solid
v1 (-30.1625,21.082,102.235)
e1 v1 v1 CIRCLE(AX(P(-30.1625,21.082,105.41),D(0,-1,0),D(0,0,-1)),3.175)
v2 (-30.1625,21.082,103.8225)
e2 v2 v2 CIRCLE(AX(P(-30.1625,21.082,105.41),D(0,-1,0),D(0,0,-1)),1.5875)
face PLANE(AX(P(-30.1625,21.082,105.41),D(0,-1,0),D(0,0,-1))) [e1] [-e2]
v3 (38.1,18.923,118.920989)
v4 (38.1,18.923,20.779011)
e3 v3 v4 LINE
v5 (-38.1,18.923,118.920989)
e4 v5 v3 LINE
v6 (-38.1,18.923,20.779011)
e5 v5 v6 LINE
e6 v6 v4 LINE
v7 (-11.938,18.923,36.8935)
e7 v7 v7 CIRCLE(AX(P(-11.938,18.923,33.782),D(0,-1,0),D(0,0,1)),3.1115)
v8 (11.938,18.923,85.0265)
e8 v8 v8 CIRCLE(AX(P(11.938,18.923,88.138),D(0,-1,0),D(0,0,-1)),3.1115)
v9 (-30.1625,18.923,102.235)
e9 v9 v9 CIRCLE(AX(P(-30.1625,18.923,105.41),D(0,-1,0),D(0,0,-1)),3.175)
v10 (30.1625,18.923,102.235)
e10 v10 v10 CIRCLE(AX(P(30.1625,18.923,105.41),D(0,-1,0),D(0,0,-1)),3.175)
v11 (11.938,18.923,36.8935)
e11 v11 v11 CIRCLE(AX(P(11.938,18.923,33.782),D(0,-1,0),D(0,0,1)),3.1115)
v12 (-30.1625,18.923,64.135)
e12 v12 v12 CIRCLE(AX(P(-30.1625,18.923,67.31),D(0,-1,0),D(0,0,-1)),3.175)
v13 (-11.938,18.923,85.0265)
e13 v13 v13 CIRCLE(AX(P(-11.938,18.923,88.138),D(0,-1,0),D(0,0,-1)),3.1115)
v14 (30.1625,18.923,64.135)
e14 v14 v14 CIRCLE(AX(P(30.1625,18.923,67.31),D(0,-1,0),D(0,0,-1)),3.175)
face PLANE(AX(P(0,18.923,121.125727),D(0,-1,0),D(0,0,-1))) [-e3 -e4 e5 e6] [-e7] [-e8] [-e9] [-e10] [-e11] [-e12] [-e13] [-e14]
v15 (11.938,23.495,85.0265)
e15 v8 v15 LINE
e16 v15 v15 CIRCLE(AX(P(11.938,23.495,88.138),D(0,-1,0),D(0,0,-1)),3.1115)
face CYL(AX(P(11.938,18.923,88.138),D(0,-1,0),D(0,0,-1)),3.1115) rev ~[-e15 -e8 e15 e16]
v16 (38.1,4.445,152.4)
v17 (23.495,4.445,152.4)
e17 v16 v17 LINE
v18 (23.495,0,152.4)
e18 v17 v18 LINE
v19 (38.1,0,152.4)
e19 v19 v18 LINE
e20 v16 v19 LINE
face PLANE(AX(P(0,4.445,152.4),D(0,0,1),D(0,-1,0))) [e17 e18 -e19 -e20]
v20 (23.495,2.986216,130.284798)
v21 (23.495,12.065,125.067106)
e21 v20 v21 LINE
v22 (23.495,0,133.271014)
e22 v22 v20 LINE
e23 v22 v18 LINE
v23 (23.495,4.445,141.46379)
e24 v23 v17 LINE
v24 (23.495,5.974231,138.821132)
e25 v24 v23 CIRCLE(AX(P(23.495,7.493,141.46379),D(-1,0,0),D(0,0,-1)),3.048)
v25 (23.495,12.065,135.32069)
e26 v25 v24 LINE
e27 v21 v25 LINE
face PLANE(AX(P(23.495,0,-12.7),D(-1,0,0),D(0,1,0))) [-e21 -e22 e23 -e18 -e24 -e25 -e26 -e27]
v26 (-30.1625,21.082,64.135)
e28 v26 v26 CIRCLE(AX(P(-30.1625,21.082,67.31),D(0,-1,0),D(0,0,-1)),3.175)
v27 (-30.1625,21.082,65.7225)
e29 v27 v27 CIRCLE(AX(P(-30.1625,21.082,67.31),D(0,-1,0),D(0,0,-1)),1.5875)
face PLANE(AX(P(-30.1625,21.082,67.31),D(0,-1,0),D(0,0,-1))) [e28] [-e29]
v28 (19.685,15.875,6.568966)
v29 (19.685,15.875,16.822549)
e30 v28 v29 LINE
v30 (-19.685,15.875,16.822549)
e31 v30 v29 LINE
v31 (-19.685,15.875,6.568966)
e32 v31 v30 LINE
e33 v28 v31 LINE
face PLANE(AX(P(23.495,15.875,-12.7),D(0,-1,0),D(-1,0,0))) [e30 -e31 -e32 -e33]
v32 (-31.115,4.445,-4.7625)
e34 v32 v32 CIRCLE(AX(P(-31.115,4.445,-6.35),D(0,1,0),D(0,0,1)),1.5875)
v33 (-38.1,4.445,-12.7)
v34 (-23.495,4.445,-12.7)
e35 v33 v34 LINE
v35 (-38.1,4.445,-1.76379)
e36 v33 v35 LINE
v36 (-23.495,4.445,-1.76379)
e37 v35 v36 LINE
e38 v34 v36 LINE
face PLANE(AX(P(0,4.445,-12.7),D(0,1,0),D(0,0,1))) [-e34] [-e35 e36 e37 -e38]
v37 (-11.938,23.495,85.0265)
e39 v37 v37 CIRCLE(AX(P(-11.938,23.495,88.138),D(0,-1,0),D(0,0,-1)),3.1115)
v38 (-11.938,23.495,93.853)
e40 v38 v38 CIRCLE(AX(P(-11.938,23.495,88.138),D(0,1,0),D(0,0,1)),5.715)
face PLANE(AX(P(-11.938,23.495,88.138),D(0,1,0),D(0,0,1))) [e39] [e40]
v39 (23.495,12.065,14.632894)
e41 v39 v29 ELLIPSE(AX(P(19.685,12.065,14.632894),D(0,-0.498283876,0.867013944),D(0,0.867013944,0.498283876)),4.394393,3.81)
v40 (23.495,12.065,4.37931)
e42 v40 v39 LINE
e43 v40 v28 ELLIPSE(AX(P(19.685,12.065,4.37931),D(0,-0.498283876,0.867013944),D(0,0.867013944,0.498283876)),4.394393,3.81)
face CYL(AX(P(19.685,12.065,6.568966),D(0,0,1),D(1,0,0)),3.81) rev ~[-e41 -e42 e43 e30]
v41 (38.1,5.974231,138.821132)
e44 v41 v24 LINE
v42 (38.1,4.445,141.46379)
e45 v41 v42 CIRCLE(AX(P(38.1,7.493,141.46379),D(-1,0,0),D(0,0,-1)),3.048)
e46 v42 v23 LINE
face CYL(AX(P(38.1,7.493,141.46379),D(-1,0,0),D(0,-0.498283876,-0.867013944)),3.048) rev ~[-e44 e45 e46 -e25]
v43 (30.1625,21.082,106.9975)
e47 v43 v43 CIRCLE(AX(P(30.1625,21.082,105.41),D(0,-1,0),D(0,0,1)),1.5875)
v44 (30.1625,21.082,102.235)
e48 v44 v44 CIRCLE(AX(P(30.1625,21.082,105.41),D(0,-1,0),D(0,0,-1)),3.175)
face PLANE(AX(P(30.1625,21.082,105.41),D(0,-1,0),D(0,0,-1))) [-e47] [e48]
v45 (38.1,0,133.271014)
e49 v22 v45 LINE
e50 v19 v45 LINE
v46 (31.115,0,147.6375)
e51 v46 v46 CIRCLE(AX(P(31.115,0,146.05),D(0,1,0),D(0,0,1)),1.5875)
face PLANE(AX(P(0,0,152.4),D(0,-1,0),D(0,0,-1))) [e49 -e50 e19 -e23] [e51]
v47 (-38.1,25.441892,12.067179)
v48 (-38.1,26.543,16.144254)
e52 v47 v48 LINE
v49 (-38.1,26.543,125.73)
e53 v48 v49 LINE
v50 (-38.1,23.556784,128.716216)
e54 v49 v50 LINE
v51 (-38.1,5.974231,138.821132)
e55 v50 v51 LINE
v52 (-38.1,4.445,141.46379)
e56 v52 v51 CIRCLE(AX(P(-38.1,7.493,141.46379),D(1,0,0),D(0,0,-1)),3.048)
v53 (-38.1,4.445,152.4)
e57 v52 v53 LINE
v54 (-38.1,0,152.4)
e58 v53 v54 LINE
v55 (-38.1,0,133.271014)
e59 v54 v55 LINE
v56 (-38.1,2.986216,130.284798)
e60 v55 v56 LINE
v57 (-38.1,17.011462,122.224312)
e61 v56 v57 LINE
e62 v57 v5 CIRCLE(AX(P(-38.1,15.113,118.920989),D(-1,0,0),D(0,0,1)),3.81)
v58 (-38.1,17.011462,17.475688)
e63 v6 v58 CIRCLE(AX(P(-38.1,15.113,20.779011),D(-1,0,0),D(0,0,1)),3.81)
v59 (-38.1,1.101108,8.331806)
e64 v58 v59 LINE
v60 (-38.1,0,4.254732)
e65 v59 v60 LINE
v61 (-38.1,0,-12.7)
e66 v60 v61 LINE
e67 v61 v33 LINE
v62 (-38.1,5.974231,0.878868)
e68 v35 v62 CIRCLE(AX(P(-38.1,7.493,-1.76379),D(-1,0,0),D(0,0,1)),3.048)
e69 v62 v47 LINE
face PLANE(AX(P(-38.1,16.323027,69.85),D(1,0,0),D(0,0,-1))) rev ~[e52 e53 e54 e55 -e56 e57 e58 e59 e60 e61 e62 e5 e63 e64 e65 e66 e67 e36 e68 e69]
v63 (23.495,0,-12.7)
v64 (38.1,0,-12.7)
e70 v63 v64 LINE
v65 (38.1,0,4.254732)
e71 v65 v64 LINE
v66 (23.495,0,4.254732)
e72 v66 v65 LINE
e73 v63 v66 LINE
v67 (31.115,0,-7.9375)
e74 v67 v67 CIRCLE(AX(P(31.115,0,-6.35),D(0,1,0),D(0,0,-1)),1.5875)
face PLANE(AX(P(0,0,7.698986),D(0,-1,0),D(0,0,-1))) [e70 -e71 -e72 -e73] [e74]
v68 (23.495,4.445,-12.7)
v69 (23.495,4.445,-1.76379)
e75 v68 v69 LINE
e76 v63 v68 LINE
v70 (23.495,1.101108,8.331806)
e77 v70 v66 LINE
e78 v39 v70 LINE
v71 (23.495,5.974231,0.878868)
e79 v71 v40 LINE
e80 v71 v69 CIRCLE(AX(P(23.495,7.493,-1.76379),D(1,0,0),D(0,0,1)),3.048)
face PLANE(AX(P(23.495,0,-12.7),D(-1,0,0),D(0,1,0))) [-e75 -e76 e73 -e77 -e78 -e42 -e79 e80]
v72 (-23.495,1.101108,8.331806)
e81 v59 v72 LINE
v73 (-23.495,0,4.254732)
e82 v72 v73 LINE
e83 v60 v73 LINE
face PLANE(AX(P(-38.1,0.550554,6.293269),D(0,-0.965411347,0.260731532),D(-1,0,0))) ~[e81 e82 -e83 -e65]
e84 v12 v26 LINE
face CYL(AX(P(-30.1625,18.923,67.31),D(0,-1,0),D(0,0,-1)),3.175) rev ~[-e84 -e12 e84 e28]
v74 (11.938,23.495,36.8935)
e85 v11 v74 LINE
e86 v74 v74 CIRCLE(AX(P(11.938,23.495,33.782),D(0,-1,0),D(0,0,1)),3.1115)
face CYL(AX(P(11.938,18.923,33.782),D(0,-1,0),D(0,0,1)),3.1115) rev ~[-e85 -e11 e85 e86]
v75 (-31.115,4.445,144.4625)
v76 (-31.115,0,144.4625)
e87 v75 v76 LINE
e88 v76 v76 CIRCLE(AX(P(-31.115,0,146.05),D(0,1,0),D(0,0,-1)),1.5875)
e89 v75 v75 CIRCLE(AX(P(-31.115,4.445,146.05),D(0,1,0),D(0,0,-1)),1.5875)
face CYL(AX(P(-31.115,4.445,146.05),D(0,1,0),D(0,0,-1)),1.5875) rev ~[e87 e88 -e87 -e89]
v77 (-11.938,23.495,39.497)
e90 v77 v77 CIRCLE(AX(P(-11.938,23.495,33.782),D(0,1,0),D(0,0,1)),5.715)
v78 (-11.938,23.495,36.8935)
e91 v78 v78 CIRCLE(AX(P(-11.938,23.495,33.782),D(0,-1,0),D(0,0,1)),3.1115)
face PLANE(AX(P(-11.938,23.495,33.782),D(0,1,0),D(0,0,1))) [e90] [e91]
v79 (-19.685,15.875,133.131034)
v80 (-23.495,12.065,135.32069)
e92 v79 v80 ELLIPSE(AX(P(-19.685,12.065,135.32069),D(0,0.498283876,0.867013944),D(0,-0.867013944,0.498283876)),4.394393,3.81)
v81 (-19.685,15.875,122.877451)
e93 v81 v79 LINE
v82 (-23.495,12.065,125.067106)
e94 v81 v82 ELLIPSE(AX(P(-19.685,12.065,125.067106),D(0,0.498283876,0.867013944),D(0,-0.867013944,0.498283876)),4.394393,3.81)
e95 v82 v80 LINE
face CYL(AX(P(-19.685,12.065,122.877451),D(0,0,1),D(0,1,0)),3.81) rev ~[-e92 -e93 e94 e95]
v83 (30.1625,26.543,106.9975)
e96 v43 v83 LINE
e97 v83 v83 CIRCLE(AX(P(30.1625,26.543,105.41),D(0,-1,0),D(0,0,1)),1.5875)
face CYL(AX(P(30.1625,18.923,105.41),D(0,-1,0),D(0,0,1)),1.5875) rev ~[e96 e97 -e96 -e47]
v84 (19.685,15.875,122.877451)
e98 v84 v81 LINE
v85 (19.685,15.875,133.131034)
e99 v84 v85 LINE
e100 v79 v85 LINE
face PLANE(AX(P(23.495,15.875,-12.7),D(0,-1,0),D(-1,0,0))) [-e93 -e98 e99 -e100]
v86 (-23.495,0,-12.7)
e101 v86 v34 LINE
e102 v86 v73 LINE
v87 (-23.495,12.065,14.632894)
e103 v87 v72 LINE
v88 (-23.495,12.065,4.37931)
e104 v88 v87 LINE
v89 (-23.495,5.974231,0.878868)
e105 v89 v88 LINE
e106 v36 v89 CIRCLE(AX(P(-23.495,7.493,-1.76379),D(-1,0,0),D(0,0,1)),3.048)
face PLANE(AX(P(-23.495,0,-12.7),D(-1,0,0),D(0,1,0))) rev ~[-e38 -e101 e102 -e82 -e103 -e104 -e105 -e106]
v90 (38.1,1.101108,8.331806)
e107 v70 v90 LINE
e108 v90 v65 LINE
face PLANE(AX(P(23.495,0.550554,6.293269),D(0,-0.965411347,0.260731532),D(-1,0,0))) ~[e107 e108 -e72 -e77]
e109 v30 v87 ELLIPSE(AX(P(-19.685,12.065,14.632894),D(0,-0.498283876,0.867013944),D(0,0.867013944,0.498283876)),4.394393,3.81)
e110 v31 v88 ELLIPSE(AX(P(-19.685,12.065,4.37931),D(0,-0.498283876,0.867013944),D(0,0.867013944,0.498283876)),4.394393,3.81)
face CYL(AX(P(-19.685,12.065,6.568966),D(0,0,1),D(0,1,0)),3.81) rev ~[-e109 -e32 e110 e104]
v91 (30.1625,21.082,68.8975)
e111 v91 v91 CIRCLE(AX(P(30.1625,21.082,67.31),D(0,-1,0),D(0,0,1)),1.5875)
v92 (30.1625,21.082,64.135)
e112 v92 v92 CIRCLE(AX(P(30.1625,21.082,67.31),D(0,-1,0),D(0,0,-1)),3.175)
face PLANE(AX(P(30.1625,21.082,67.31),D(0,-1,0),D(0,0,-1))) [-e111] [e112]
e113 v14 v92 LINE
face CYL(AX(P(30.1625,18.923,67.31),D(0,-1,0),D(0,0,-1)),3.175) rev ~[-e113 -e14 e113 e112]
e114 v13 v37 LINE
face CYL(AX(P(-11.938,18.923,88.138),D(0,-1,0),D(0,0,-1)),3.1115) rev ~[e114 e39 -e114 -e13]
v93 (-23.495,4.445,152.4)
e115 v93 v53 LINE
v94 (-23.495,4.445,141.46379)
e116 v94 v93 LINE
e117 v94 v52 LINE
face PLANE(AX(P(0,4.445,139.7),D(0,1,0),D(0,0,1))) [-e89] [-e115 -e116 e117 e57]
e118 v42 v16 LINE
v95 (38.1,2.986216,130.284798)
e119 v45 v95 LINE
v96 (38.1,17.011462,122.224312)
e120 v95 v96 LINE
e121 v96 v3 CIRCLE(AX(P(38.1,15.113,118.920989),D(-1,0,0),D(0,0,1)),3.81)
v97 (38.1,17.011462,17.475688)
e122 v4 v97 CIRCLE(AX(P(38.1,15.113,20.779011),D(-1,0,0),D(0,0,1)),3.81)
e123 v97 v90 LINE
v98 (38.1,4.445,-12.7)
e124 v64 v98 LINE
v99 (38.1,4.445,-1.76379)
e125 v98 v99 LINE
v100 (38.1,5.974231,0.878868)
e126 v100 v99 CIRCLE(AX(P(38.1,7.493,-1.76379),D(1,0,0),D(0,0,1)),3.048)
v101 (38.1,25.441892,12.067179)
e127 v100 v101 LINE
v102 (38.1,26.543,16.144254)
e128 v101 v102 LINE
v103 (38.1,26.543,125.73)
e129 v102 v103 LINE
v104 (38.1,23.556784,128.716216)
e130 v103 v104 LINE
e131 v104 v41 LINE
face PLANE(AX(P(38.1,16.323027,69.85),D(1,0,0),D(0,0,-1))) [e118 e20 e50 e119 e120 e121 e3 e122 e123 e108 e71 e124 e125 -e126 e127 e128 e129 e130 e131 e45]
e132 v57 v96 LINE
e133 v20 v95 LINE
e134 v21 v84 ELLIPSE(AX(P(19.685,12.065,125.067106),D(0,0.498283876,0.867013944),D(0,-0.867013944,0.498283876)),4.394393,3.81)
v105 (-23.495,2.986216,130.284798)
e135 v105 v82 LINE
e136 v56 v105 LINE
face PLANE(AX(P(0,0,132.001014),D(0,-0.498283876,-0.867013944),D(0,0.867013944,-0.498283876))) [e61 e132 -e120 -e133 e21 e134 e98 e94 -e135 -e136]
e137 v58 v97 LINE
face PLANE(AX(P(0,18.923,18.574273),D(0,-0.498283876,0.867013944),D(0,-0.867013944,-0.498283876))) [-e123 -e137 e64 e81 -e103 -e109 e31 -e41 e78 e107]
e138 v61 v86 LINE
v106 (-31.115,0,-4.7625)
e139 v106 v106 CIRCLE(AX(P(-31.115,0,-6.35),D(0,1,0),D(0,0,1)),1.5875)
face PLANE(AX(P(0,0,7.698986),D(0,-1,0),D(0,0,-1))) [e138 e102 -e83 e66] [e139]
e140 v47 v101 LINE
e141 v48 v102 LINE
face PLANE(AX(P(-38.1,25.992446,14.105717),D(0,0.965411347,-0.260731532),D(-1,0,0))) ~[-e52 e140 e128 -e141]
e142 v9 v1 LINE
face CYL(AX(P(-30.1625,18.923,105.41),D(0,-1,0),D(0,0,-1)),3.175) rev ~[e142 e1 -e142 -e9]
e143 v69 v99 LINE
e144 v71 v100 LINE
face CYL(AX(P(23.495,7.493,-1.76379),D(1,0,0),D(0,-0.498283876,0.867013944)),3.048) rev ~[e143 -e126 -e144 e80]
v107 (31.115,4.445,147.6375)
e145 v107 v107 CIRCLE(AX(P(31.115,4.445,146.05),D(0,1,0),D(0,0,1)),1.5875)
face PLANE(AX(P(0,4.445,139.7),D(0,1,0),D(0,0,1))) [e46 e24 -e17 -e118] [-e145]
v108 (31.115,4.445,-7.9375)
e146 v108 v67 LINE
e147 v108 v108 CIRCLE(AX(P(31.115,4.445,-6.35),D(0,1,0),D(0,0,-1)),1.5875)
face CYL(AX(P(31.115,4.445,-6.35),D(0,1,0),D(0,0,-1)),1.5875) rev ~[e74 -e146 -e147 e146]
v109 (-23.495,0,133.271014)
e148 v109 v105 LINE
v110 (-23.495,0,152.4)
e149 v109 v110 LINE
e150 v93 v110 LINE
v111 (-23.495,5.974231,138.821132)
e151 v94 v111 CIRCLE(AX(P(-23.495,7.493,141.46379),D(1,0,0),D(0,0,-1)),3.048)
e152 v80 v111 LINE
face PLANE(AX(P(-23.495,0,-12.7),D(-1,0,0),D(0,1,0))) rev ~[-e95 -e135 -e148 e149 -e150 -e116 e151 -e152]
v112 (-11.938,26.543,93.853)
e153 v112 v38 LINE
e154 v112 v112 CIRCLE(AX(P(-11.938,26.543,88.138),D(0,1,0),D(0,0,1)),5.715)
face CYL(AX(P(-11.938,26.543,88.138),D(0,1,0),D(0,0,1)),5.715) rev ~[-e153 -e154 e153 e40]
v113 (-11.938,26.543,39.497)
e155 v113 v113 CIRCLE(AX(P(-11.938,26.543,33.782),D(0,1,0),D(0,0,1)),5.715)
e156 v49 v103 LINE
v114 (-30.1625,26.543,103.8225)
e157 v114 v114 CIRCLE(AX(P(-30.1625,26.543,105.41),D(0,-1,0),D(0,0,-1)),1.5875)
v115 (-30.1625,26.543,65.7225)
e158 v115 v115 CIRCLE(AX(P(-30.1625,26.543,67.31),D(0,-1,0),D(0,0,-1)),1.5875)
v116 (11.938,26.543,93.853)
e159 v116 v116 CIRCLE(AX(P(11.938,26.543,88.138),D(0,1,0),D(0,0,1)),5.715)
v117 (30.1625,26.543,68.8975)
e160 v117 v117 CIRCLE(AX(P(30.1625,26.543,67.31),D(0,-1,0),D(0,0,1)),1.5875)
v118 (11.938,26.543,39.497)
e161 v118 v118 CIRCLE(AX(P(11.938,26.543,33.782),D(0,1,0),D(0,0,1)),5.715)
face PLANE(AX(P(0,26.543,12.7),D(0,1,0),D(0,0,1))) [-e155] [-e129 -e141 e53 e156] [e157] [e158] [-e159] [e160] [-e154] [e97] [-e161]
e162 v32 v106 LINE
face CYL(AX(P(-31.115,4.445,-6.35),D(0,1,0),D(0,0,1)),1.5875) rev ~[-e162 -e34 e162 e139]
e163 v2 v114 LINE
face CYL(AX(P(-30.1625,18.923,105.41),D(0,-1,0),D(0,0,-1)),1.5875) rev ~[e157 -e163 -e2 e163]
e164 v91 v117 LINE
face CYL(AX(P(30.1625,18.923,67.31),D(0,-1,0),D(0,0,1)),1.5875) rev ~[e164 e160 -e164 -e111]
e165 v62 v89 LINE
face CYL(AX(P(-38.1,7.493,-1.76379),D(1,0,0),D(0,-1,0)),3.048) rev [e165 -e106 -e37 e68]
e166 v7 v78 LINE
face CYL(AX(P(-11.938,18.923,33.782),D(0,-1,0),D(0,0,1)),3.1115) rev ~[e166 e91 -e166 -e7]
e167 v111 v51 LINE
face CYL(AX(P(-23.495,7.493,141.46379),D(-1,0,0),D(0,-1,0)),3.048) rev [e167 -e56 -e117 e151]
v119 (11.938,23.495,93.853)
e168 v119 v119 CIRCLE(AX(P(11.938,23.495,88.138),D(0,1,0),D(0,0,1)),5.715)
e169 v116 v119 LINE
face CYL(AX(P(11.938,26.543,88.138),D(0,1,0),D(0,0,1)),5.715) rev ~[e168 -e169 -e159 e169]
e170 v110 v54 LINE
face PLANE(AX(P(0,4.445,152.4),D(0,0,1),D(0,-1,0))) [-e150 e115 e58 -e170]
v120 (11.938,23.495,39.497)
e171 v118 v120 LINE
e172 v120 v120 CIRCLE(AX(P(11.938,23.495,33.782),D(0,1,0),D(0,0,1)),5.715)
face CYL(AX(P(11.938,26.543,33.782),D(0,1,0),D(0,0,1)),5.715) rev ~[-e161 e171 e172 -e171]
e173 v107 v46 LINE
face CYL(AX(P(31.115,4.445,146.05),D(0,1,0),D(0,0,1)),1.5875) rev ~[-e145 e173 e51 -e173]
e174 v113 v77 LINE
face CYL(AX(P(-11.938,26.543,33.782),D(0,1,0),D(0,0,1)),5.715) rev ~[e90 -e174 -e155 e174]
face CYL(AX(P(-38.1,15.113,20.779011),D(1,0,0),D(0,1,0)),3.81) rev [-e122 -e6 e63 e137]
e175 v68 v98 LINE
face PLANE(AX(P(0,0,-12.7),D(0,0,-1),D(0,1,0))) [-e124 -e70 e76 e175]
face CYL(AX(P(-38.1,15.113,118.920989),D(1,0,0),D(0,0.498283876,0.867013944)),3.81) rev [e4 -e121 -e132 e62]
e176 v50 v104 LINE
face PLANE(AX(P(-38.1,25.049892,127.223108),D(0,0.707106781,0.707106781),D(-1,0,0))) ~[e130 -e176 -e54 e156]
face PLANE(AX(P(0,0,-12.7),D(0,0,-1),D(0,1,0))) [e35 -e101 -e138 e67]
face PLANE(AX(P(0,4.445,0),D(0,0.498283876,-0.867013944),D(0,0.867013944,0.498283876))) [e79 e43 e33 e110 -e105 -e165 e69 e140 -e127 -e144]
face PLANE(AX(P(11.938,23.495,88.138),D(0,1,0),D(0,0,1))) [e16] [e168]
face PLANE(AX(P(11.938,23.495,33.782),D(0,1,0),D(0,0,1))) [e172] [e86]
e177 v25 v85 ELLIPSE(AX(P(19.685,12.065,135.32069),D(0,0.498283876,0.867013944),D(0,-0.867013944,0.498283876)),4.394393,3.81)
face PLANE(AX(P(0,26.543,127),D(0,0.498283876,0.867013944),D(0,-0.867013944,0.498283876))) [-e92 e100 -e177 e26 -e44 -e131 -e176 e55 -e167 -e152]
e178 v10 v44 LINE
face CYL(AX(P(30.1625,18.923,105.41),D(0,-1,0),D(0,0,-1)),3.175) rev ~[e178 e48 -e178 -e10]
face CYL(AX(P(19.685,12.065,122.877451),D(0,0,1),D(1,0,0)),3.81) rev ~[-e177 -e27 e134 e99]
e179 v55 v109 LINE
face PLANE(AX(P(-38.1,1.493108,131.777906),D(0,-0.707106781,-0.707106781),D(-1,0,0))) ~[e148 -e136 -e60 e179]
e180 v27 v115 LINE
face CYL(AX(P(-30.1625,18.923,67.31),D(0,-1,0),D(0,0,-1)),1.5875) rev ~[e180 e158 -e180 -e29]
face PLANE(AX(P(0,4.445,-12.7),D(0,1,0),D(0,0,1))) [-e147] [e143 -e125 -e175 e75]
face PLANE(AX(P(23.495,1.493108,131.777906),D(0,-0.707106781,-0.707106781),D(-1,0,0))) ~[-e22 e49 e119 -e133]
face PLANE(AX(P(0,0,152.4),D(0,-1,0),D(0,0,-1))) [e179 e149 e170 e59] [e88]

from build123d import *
from OCP.BRepFilletAPI import BRepFilletAPI_MakeChamfer

# Parameters (mm, degrees)
BOSS_EXTRUDE1_DEPTH           = 38.1
SKETCH2_R                     = 3.1115
CASTER_MOUNT_HOLES_DEPTH      = 159.225945815
SKETCH6_R                     = 1.5875
FRAME_MOUNTHOLES_DEPTH        = 159.636980569
SKETCH7_W                     = 46.99
SKETCH7_H                     = 15.875
LEG_CUTOUTS_DEPTH             = 172.505541744
CHAMFER1_SIZE                 = 1.27
CHAMFER1_SIZE2                = 3.444253967
SKETCH8_R                     = 1.5875
ELECTRONICS_MOUNT_HOLES_DEPTH = 159.225945815
CHAMFER2_SIZE                 = 1.27
CHAMFER2_SIZE2                = 3.444253967
FILLET1_R                     = 3.81
FILLET2_R                     = 3.048
SKETCH9_R                     = 5.715
CUT_EXTRUDE1_DEPTH            = 3.048
SKETCH10_R                    = 3.175
CUT_EXTRUDE2_DEPTH            = 2.159


with BuildPart() as part:
    # Sketch1 → Boss-Extrude1 (new, symmetric)
    with BuildSketch(Plane(origin=(0, 0, 0), x_dir=(0, 0, -1), z_dir=(1, 0, 0))):
        Polygon((-152.4, 0), (-132.001014052, 0), (-121.125726695, 18.923), (-18.574273305, 18.923), (-7.698985948, 0), (12.7, 0), (12.7, 4.445), (0, 4.445), (-12.7, 26.543), (-127, 26.543), (-139.7, 4.445), (-152.4, 4.445), align=None)
    extrude(amount=BOSS_EXTRUDE1_DEPTH, both=True)

    # Sketch2 → Caster-Mount-Holes (cut, through all)
    with BuildSketch(Plane.XZ.offset(-18.923)):
        with Locations(Location((-11.938, 88.138, 0), (0, 0, 270))):
            Circle(SKETCH2_R)
        with Locations(Location((11.938, 88.138, 0), (0, 0, 270))):
            Circle(SKETCH2_R)
        with Locations(Location((11.938, 33.782, 0), (0, 0, 90))):
            Circle(SKETCH2_R)
        with Locations(Location((-11.938, 33.782, 0), (0, 0, 90))):
            Circle(SKETCH2_R)
    extrude(amount=-CASTER_MOUNT_HOLES_DEPTH, mode=Mode.SUBTRACT)

    # Sketch6 → Frame-MountHoles (cut, through all)
    with BuildSketch(Plane(origin=(0, 4.445, 0), x_dir=(1, 0, 0), z_dir=(0, 1, 0))):
        with Locations(Location((-31.115, 6.35, 0), (0, 0, 270))):
            Circle(SKETCH6_R)
        with Locations(Location((31.115, 6.35, 0), (0, 0, 90))):
            Circle(SKETCH6_R)
        with Locations(Location((31.115, -146.05, 0), (0, 0, 270))):
            Circle(SKETCH6_R)
        with Locations(Location((-31.115, -146.05, 0), (0, 0, 90))):
            Circle(SKETCH6_R)
    extrude(amount=-FRAME_MOUNTHOLES_DEPTH, mode=Mode.SUBTRACT)

    # Sketch7 → Leg-Cutouts (cut, through all)
    with BuildSketch(Plane(origin=(0, 0, -12.7), x_dir=(-1, 0, 0), z_dir=(0, 0, -1))):
        with Locations((0, 7.9375)):
            Rectangle(SKETCH7_W, SKETCH7_H)
    extrude(amount=-LEG_CUTOUTS_DEPTH, mode=Mode.SUBTRACT)

    # Chamfer1: one chamfer whose edges measure the first distance from different faces: ONE call of the kernel's chamfer builder (chamfer() names one face for all edges)
    chamfer1_edges_1 = [part.edges().sort_by_distance(p)[0] for p in [
        (30.7975, 0, 7.698985948),
        (-30.7975, 0, 7.698985948),
    ]]
    chamfer1_side_1 = [part.faces().sort_by_distance(p)[0] for p in [
        (0, 18.235769515, 18.179313256),
    ]]
    chamfer1_edges_2 = [part.edges().sort_by_distance(p)[0] for p in [
        (30.7975, 0, 132.001014052),
    ]]
    chamfer1_side_2 = [part.faces().sort_by_distance(p)[0] for p in [
        (30.788832212, 0, 142.09541541),
    ]]
    chamfer1_edges_3 = [part.edges().sort_by_distance(p)[0] for p in [
        (-30.7975, 0, 132.001014052),
    ]]
    chamfer1_side_3 = [part.faces().sort_by_distance(p)[0] for p in [
        (-30.788832212, 0, 142.09541541),
    ]]
    chamfer1 = BRepFilletAPI_MakeChamfer(part.part.solid().wrapped)
    for e in chamfer1_edges_1:
        chamfer1.Add(CHAMFER1_SIZE, CHAMFER1_SIZE2, e.wrapped, chamfer1_side_1[0].wrapped)  # the first distance lies on this face
    for e in chamfer1_edges_2:
        chamfer1.Add(CHAMFER1_SIZE, CHAMFER1_SIZE2, e.wrapped, chamfer1_side_2[0].wrapped)  # the first distance lies on this face
    for e in chamfer1_edges_3:
        chamfer1.Add(CHAMFER1_SIZE, CHAMFER1_SIZE2, e.wrapped, chamfer1_side_3[0].wrapped)  # the first distance lies on this face
    add(Compound.cast(chamfer1.Shape()), mode=Mode.REPLACE)

    # Sketch8 → Electronics-Mount-Holes (cut, through all)
    with BuildSketch(Plane.XZ.offset(-18.923)):
        with Locations(Location((-30.1625, 105.41, 0), (0, 0, 270))):
            Circle(SKETCH8_R)
        with Locations(Location((-30.1625, 67.31, 0), (0, 0, 270))):
            Circle(SKETCH8_R)
        with Locations(Location((30.1625, 67.31, 0), (0, 0, 90))):
            Circle(SKETCH8_R)
        with Locations(Location((30.1625, 105.41, 0), (0, 0, 90))):
            Circle(SKETCH8_R)
    extrude(amount=-ELECTRONICS_MOUNT_HOLES_DEPTH, mode=Mode.SUBTRACT)

    # Chamfer2: one chamfer whose edges measure the first distance from different faces: ONE call of the kernel's chamfer builder (chamfer() names one face for all edges)
    chamfer2_edges_1 = [part.edges().sort_by_distance(p)[0] for p in [
        (0, 26.543, 127),
    ]]
    chamfer2_side_1 = [part.faces().sort_by_distance(p)[0] for p in [
        (0, 26.543, 69.915297007),
    ]]
    chamfer2_edges_2 = [part.edges().sort_by_distance(p)[0] for p in [
        (0, 26.543, 12.7),
    ]]
    chamfer2_side_2 = [part.faces().sort_by_distance(p)[0] for p in [
        (0, 17.992202532, 7.785748581),
    ]]
    chamfer2 = BRepFilletAPI_MakeChamfer(part.part.solid().wrapped)
    for e in chamfer2_edges_1:
        chamfer2.Add(CHAMFER2_SIZE, CHAMFER2_SIZE2, e.wrapped, chamfer2_side_1[0].wrapped)  # the first distance lies on this face
    for e in chamfer2_edges_2:
        chamfer2.Add(CHAMFER2_SIZE, CHAMFER2_SIZE2, e.wrapped, chamfer2_side_2[0].wrapped)  # the first distance lies on this face
    add(Compound.cast(chamfer2.Shape()), mode=Mode.REPLACE)

    # Fillet1
    fillet1_edges = [part.edges().sort_by_distance(p)[0] for p in [
        (0, 18.923, 18.574273305),
        (0, 18.923, 121.125726695),
        (23.495, 15.875, 11.695757342),
        (23.495, 15.875, 128.004242658),
        (-23.495, 15.875, 128.004242658),
        (-23.495, 15.875, 11.695757342),
    ]]
    fillet(fillet1_edges, radius=FILLET1_R)

    # Fillet2
    fillet2_edges = [part.edges().sort_by_distance(p)[0] for p in [
        (30.7975, 4.445, 0),
        (30.7975, 4.445, 139.7),
        (-30.7975, 4.445, 0),
        (-30.7975, 4.445, 139.7),
    ]]
    fillet(fillet2_edges, radius=FILLET2_R)

    # Sketch9 → Cut-Extrude1 (cut)
    with BuildSketch(Plane(origin=(0, 26.543, 0), x_dir=(1, 0, 0), z_dir=(0, 1, 0))):
        with Locations(Location((-11.938, -33.782, 0), (0, 0, 270))):
            Circle(SKETCH9_R)
        with Locations(Location((11.938, -33.782, 0), (0, 0, 270))):
            Circle(SKETCH9_R)
        with Locations(Location((-11.938, -88.138, 0), (0, 0, 270))):
            Circle(SKETCH9_R)
        with Locations(Location((11.938, -88.138, 0), (0, 0, 270))):
            Circle(SKETCH9_R)
    extrude(amount=-CUT_EXTRUDE1_DEPTH, mode=Mode.SUBTRACT)

    # Sketch10 → Cut-Extrude2 (cut)
    with BuildSketch(Plane.XZ.offset(-18.923)):
        with Locations(Location((-30.1625, 105.41, 0), (0, 0, 270))):
            Circle(SKETCH10_R)
        with Locations(Location((-30.1625, 67.31, 0), (0, 0, 270))):
            Circle(SKETCH10_R)
        with Locations(Location((30.1625, 105.41, 0), (0, 0, 270))):
            Circle(SKETCH10_R)
        with Locations(Location((30.1625, 67.31, 0), (0, 0, 270))):
            Circle(SKETCH10_R)
    extrude(amount=-CUT_EXTRUDE2_DEPTH, mode=Mode.SUBTRACT)


solid = part.part
